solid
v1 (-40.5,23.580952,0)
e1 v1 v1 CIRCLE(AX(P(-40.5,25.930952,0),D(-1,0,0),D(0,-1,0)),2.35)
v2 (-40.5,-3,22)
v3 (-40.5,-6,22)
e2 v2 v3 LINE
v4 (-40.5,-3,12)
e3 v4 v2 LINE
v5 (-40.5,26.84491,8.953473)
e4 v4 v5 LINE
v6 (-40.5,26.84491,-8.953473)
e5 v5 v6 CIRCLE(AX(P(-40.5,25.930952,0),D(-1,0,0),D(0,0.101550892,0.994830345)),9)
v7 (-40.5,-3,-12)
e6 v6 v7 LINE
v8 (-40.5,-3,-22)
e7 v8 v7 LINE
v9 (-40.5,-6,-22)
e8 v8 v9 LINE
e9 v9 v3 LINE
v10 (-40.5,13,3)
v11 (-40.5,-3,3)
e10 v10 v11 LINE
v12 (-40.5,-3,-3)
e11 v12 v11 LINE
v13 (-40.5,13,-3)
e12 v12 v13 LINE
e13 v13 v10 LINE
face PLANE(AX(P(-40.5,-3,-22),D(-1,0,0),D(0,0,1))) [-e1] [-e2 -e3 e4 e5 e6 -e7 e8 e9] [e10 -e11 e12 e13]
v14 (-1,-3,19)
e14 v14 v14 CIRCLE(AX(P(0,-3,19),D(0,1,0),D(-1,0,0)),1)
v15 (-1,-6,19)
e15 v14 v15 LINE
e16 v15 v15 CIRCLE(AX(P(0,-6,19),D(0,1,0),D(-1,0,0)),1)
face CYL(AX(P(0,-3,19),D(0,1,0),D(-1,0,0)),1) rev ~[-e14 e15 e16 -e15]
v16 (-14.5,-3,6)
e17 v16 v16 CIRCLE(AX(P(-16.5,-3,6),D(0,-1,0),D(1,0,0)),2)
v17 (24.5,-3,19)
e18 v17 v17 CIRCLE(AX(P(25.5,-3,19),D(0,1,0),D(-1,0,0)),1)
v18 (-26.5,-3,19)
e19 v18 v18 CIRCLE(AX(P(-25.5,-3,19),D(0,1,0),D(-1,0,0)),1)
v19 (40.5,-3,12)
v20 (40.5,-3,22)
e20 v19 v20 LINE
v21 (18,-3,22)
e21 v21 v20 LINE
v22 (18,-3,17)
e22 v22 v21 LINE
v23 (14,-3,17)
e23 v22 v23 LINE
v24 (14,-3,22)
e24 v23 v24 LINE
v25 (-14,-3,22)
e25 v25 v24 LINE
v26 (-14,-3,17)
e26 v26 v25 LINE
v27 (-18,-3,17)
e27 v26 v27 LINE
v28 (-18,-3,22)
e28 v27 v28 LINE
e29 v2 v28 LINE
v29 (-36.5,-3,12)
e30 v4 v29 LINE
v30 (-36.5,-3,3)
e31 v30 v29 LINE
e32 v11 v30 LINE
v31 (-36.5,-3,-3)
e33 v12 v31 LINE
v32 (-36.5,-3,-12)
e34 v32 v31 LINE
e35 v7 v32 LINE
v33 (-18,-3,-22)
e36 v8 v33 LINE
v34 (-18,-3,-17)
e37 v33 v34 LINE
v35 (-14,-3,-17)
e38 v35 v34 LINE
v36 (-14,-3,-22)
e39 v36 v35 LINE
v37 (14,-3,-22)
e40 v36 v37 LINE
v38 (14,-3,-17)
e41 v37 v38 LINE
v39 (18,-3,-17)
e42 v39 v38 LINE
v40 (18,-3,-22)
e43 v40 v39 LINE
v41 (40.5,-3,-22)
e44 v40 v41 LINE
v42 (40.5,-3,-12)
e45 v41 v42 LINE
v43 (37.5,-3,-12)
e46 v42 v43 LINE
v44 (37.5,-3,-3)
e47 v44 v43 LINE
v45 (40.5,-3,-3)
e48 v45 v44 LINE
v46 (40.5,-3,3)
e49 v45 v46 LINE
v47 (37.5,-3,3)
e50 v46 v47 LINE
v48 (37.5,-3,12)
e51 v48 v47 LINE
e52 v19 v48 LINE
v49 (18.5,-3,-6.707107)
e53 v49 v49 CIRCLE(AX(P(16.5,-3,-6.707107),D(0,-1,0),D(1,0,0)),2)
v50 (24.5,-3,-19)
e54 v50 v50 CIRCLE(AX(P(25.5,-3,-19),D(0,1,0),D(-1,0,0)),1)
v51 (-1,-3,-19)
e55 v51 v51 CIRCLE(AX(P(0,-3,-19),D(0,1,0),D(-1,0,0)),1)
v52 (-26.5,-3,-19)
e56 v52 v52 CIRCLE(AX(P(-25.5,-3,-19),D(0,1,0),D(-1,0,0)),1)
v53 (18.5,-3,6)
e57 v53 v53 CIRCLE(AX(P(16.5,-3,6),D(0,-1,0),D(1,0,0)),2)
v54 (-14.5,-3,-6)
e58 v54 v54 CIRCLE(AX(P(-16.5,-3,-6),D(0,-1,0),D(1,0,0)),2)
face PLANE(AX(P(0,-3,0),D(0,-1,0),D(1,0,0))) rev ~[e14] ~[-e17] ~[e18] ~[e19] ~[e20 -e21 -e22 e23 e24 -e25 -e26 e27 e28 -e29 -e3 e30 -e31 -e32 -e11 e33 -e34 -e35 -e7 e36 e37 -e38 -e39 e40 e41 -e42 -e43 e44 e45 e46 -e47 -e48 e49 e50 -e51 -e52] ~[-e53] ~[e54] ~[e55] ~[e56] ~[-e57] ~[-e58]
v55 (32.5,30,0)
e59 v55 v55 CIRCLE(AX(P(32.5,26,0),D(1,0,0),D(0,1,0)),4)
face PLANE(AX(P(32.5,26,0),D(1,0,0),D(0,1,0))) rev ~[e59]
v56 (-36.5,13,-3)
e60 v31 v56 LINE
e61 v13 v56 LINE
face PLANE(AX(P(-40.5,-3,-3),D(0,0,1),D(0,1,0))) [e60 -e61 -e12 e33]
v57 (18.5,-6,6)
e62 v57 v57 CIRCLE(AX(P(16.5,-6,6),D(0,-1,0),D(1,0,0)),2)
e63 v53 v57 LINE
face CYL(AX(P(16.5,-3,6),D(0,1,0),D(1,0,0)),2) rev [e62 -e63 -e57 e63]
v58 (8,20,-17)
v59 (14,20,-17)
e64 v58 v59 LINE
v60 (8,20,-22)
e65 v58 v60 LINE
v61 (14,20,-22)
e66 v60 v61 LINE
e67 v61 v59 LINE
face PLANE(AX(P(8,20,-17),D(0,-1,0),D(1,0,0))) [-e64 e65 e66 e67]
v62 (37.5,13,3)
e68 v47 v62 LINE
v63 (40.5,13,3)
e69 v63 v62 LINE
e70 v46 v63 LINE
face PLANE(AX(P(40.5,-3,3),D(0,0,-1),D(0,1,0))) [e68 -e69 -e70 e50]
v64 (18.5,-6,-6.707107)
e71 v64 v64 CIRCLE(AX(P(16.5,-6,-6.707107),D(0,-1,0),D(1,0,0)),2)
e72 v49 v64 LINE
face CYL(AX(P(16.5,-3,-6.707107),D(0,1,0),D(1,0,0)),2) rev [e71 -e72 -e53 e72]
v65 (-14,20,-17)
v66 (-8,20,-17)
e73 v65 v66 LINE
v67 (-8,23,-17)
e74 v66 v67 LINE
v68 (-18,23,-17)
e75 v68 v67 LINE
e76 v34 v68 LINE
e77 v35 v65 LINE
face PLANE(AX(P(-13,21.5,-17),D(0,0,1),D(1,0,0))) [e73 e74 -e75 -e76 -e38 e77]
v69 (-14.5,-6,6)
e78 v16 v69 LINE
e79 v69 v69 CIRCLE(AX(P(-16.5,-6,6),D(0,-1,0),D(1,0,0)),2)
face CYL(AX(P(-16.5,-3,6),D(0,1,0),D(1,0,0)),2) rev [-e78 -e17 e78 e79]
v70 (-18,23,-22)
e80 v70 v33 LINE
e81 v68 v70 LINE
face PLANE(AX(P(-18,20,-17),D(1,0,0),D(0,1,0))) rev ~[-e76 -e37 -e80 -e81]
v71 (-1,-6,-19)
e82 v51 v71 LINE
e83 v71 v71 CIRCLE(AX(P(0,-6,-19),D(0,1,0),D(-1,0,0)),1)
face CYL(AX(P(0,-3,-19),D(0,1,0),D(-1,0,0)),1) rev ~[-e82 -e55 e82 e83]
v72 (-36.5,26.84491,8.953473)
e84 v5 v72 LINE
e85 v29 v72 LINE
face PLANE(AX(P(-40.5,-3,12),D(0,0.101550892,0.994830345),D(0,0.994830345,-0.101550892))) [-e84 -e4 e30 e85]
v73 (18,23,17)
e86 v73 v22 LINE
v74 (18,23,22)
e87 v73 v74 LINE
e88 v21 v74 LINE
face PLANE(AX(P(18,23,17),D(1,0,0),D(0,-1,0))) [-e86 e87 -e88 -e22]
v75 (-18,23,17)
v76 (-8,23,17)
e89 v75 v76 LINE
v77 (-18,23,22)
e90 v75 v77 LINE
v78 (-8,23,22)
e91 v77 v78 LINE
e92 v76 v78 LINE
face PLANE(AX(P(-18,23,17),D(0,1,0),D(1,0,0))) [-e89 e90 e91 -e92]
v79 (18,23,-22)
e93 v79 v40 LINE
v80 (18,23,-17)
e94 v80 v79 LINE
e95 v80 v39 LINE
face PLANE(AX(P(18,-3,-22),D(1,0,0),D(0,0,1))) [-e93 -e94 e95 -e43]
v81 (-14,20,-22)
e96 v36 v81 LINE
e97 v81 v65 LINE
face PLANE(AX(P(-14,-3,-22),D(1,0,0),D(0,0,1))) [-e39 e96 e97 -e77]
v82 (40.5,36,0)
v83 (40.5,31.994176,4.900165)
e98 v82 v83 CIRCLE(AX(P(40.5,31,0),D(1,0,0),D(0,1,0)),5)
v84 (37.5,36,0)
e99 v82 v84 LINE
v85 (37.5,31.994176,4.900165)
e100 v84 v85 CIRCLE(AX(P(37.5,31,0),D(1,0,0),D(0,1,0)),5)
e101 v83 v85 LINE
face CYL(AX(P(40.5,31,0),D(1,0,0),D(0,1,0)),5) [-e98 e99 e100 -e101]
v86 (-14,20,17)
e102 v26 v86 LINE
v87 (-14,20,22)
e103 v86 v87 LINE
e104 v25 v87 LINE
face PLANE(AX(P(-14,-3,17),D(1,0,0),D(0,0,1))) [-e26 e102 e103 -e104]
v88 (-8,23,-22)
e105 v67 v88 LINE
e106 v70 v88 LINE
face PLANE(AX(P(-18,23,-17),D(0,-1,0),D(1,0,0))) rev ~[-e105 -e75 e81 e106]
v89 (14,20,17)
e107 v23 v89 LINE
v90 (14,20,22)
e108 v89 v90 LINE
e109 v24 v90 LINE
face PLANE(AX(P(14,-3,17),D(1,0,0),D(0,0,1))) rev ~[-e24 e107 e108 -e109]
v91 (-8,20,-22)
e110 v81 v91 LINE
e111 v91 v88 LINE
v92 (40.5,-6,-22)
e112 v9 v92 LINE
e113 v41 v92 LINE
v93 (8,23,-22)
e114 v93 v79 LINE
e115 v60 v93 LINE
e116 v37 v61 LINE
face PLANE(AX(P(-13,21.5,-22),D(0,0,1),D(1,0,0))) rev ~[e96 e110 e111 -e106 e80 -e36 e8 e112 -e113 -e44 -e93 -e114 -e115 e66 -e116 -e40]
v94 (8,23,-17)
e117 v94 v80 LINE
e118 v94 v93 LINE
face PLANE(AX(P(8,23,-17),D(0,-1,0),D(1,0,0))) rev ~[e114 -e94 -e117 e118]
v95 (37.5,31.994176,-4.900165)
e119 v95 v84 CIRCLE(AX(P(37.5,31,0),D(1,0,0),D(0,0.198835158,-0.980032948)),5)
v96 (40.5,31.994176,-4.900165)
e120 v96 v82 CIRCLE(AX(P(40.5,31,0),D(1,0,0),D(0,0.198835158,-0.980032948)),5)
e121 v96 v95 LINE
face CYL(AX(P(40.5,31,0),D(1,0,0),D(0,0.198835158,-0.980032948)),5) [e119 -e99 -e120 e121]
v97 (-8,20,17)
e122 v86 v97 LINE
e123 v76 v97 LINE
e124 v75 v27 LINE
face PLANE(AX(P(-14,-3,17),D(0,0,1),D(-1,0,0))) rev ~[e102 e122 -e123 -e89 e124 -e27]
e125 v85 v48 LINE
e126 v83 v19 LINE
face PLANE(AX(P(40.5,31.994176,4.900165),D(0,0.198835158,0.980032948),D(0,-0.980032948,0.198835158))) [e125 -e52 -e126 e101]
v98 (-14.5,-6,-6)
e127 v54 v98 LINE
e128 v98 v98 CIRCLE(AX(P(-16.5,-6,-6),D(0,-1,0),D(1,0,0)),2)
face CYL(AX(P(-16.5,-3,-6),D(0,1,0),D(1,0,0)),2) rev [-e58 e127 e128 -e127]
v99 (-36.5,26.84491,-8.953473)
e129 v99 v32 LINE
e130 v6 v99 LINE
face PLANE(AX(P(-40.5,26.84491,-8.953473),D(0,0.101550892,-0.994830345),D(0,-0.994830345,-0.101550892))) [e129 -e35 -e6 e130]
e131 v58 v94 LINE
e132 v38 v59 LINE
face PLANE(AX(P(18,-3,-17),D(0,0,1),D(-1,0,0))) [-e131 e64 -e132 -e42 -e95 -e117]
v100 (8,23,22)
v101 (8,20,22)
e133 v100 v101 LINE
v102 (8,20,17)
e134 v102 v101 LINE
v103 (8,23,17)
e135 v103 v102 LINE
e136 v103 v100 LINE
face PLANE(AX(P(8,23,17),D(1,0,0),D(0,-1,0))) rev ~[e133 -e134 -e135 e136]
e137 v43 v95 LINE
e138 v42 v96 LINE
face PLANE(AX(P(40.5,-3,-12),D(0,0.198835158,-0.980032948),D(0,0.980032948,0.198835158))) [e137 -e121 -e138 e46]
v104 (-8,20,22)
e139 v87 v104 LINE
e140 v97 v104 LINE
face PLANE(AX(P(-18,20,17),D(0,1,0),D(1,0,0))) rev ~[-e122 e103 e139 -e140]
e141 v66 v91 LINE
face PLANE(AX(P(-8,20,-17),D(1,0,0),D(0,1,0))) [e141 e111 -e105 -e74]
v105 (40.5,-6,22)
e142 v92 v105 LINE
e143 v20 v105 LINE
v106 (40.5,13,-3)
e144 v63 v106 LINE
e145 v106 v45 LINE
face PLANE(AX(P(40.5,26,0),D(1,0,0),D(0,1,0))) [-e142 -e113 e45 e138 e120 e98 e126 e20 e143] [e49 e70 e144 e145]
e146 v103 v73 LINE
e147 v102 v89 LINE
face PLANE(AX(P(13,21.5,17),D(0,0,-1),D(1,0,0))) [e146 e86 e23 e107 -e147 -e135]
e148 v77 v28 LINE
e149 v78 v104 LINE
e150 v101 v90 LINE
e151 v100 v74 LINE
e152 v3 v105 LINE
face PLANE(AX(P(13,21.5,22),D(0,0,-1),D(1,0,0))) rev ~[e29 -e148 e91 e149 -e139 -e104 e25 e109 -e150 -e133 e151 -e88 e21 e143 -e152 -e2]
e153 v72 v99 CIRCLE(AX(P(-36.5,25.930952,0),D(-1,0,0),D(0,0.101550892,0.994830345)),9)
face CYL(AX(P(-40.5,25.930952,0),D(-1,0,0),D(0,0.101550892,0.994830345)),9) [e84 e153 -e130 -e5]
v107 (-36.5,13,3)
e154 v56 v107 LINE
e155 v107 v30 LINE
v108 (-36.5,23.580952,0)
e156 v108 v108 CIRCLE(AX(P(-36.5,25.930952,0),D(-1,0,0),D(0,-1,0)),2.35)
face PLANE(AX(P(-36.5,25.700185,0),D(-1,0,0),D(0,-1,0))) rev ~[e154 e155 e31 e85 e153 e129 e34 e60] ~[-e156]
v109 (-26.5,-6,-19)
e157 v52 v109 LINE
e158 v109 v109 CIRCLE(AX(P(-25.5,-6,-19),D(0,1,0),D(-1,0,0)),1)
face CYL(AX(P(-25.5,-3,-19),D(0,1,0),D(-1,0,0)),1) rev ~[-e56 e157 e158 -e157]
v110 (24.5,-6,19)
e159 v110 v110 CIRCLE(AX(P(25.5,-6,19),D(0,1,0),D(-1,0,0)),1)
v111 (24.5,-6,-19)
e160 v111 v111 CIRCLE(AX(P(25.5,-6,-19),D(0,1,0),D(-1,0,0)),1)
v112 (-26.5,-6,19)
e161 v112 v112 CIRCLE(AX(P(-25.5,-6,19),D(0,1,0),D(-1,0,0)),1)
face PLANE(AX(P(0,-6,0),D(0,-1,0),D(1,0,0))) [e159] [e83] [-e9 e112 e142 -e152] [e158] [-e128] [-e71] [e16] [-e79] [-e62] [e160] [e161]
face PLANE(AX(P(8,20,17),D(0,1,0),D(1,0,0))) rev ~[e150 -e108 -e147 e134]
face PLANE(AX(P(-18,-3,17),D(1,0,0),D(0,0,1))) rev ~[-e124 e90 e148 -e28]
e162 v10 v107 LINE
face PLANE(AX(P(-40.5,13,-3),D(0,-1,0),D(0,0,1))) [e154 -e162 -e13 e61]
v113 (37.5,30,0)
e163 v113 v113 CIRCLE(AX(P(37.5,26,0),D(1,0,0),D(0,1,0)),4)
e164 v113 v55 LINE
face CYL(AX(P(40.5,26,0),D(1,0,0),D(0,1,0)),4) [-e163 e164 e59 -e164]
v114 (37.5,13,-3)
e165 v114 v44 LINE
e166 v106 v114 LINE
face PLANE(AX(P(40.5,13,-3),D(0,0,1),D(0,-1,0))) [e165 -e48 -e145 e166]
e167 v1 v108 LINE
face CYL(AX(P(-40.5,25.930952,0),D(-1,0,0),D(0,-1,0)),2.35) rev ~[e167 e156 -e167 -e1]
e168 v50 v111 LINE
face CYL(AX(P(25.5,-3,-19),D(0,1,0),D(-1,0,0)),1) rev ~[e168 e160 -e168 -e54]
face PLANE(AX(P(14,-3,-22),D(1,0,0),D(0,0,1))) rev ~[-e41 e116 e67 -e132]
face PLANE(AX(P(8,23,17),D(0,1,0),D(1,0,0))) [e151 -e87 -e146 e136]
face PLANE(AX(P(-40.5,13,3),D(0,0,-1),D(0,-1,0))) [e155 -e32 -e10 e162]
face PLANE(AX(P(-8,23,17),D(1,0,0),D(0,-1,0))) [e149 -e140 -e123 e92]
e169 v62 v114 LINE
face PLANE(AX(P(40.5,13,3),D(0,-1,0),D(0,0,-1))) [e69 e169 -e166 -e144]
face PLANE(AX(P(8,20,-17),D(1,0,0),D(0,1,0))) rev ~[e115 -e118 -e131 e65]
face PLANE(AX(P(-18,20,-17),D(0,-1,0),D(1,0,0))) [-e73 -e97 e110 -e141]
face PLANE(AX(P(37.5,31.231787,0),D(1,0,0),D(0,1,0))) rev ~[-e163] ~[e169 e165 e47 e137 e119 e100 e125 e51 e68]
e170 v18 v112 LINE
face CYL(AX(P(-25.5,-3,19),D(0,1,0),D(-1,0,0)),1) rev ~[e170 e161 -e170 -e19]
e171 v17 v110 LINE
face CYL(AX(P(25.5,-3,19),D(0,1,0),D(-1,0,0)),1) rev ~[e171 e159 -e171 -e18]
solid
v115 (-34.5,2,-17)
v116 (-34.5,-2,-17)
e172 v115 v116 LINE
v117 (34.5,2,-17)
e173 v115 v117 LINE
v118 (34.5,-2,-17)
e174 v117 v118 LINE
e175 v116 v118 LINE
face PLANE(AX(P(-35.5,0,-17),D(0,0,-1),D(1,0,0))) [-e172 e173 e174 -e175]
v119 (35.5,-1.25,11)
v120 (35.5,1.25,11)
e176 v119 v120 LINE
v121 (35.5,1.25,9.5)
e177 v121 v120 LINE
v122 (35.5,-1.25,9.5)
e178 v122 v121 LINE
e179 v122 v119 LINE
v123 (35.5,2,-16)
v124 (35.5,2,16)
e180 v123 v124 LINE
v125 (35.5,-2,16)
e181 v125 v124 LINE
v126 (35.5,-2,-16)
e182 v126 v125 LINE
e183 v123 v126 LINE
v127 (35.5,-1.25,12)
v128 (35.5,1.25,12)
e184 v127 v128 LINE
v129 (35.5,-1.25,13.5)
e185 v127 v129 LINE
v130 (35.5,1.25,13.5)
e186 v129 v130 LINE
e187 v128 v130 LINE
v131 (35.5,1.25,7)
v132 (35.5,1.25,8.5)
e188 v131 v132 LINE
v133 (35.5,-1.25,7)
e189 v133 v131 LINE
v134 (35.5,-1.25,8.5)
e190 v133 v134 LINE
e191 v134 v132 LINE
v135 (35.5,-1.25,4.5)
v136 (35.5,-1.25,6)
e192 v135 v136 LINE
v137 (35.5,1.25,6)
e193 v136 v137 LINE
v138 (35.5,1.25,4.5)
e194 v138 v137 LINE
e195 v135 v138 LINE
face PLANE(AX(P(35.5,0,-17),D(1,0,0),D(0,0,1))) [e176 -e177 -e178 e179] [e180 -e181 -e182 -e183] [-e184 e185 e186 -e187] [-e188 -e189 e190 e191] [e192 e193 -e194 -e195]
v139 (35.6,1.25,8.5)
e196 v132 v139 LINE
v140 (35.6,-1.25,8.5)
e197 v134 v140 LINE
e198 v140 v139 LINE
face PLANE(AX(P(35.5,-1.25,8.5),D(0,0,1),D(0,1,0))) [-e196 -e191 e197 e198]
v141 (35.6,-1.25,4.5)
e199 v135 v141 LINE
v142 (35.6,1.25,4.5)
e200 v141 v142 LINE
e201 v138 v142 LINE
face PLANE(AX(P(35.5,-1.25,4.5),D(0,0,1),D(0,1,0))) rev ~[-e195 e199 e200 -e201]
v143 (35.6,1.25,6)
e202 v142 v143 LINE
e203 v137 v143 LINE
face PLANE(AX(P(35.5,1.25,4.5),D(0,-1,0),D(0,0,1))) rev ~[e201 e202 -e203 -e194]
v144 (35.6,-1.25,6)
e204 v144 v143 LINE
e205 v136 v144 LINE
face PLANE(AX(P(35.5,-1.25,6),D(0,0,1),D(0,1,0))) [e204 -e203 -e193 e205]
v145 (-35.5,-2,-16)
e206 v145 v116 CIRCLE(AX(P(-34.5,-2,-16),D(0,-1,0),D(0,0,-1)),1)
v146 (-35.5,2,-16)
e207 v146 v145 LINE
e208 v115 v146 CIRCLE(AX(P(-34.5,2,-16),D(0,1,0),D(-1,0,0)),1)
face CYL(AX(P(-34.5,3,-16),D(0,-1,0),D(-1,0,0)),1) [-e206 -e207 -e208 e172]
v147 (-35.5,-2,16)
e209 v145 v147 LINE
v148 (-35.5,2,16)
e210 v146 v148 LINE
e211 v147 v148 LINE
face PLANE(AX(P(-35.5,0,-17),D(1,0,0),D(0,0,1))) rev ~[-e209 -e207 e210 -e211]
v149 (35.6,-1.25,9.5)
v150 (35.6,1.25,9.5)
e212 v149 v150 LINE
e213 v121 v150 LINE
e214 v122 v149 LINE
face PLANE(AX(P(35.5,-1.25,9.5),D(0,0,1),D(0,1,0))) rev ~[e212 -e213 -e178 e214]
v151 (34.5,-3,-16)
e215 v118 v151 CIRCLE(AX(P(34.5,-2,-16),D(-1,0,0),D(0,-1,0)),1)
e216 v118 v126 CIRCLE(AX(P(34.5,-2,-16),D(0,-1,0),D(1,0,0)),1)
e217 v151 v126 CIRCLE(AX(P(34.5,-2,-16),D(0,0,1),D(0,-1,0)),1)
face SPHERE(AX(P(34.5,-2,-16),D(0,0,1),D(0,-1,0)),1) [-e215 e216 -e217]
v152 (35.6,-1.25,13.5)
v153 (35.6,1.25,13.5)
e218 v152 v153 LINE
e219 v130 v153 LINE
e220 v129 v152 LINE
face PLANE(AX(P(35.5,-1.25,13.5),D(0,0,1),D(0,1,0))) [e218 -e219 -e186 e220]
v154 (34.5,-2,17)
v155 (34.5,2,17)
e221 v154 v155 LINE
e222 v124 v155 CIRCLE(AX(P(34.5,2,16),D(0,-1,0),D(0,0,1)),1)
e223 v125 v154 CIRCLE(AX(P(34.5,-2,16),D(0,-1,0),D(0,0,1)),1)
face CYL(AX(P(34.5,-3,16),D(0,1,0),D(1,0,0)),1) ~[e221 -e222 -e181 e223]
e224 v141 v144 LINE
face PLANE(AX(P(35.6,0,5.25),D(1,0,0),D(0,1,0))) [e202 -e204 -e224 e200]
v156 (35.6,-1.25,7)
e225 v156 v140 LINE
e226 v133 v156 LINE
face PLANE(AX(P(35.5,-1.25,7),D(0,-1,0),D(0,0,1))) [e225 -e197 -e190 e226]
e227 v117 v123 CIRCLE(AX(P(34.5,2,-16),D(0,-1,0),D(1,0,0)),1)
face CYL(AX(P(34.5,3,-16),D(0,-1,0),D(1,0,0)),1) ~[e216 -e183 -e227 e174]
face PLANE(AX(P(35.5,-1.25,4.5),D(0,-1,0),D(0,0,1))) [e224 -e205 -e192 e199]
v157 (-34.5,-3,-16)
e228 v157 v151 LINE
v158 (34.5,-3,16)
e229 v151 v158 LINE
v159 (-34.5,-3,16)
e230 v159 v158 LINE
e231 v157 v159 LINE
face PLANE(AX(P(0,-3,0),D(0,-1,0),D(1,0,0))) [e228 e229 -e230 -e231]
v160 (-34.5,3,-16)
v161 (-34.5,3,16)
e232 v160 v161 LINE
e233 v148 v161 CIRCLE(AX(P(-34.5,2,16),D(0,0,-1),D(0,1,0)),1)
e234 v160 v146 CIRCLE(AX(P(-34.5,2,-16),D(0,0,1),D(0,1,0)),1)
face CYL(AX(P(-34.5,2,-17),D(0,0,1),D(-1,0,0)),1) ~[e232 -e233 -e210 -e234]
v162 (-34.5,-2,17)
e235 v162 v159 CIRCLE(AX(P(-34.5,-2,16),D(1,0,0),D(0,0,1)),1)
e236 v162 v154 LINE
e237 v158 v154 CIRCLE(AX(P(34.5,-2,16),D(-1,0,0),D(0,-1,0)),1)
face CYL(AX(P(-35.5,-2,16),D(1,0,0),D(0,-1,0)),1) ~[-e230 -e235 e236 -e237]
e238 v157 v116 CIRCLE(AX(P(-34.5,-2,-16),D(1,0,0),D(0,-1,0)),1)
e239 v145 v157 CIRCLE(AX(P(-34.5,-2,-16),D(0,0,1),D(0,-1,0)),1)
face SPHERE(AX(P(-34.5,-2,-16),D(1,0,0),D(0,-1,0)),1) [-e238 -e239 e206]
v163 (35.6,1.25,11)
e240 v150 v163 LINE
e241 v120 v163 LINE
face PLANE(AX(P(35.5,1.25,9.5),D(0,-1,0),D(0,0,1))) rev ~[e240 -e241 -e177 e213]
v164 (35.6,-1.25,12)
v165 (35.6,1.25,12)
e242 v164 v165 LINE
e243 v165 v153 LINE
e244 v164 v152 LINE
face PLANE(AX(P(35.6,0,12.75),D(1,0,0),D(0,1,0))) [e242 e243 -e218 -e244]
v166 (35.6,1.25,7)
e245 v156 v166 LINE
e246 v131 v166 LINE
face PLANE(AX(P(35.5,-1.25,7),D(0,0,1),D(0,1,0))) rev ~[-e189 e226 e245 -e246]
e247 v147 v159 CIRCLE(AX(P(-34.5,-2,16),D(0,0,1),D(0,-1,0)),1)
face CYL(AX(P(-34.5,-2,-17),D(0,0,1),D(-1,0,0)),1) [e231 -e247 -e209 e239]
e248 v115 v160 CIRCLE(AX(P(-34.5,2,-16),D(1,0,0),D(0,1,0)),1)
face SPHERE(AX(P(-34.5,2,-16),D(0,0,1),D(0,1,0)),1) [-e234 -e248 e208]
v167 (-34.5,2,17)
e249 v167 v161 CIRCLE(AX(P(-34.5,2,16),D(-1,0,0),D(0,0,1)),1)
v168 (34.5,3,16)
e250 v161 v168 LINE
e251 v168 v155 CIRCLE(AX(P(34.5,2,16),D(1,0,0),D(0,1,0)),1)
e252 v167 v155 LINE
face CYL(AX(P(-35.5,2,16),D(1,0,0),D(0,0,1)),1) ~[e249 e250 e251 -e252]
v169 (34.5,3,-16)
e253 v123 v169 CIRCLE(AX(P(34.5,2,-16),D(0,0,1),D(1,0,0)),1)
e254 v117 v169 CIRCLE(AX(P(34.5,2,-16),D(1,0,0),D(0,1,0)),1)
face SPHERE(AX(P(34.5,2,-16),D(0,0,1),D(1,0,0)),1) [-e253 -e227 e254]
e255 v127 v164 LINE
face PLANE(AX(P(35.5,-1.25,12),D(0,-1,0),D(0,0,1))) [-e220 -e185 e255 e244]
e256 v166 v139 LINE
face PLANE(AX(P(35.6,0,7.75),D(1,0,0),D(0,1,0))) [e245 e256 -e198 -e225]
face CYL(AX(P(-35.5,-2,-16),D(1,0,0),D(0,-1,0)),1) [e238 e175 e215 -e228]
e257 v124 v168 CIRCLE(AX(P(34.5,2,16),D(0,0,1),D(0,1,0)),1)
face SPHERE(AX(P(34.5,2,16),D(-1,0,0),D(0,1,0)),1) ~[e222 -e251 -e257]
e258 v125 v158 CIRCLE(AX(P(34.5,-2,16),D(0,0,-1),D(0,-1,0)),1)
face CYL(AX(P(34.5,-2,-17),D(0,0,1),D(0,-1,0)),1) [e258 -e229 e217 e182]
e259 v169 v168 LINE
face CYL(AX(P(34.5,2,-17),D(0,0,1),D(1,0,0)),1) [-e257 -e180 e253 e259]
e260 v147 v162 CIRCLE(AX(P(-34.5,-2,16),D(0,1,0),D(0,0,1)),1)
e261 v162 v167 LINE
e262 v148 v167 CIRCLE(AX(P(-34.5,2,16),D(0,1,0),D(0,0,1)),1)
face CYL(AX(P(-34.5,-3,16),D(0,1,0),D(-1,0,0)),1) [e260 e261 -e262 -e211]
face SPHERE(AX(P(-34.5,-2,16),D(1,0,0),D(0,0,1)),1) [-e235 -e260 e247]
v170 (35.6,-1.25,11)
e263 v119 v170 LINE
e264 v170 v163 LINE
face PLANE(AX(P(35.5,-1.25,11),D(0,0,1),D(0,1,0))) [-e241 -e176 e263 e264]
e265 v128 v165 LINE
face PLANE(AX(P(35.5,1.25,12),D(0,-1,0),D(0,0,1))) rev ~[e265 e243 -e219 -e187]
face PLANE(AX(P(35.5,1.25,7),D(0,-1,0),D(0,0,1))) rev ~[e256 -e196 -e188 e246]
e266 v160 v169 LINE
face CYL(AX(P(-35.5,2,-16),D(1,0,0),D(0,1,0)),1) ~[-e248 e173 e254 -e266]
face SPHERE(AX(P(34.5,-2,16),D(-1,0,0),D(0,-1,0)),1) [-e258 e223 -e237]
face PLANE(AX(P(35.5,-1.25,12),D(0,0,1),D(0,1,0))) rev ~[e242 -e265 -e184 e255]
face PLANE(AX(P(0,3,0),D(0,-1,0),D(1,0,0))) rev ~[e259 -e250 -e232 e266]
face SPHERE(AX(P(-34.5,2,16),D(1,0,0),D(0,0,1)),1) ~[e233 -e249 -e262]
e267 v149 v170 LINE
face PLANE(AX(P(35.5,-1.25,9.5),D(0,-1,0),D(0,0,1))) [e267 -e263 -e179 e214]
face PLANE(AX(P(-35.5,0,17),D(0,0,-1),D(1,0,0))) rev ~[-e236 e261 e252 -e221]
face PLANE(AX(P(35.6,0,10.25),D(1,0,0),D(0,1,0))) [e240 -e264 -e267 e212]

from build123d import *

# Parameters (mm, degrees)
F0_W      = 71
F0_H      = 34
F1_DEPTH  = 3
F2_R      = 1
F3_W      = 2.5
F3_H      = 1.5
F4_DEPTH  = 0.1
F5_W      = 80.9999997616
F5_H      = 43.9999997616
F5_R      = 2
F6_DEPTH  = 3
F7_R      = 2.35
F8_DEPTH  = 4
F10_DEPTH = 3
F11_R     = 4
F12_DEPTH = 8
F13_W     = 4
F13_H     = 5
F14_DEPTH = 23
F15_W     = 10
F15_H     = 3
F16_DEPTH = 5
F17_R     = 1
F18_DEPTH = 25
F19_W     = 10
F19_H     = 3
F20_DEPTH = 5


with BuildPart() as f1:
    # F0 (on Front) → F1 (new body, symmetric)
    with BuildSketch(Plane.XZ):
        Rectangle(F0_W, F0_H)
    extrude(amount=F1_DEPTH, both=True)

    # F2
    f2_edges = [f1.edges().sort_by_distance(p)[0] for p in [
        (0, -3, 17),
        (0, 3, 17),
        (35.5, -3, 0),
        (35.5, 3, 0),
        (0, -3, -17),
        (35.5, 0, -17),
        (-35.5, 0, 17),
        (-35.5, -3, 0),
        (-35.5, 3, 0),
        (0, 3, -17),
        (-35.5, 0, -17),
        (35.5, 0, 17),
    ]]
    fillet(f2_edges, radius=F2_R)

    # F3 (on face) → F4 (join)
    with BuildSketch(Plane.YZ.offset(35.5)):
        with Locations((0, 12.75)):
            Rectangle(F3_W, F3_H)
        with Locations((0, 10.25)):
            Rectangle(F3_W, F3_H)
        with Locations((0, 7.75)):
            Rectangle(F3_W, F3_H)
        with Locations((0, 5.25)):
            Rectangle(F3_W, F3_H)
    extrude(amount=F4_DEPTH)


with BuildPart() as f6:
    # F5 (on face) → F6 (new body)
    with BuildSketch(Plane.XZ.offset(3)):
        Rectangle(F5_W, F5_H)
        with Locations((-16.5, -6)):
            Circle(F5_R, mode=Mode.SUBTRACT)
        with Locations((16.5, -6.7071067812)):
            Circle(F5_R, mode=Mode.SUBTRACT)
        with Locations((-16.5, 6)):
            Circle(F5_R, mode=Mode.SUBTRACT)
        with Locations((16.5, 6)):
            Circle(F5_R, mode=Mode.SUBTRACT)
    extrude(amount=F6_DEPTH)

    # F7 (on face) → F8 (join)
    with BuildSketch(Plane(origin=(-40.4999998808, 0, 0), x_dir=(0, -1, 0), z_dir=(-1, 0, 0))):
        with BuildLine():
            ThreePointArc((-26.8449103639, -8.9534731092), (-19.8987728873, -6.6792822325), (-16.9309523324, 0))
            ThreePointArc((-16.9309523324, 0), (-19.8987728873, 6.6792822325), (-26.8449103639, 8.9534731092))
            ThreePointArc((-26.8449103639, 8.9534731092), (-34.9309523324, 0), (-26.8449103639, -8.9534731092))
        make_face()
        with Locations((-25.9309523324, 0)):
            Circle(F7_R, mode=Mode.SUBTRACT)
        with BuildLine():
            ThreePointArc((-26.8449103639, 8.9534731092), (-19.8987728873, 6.6792822325), (-16.9309523324, 0))
            ThreePointArc((-16.9309523324, 0), (-19.8987728873, -6.6792822325), (-26.8449103639, -8.9534731092))
            Line((-26.8449103639, -8.9534731092), (3, -11.9999998808))
            Line((3, -11.9999998808), (3, -3))
            Line((3, -3), (-13, -3))
            Line((-13, -3), (-13, 3))
            Line((-13, 3), (3, 3))
            Line((3, 3), (3, 11.9999998808))
            Line((3, 11.9999998808), (-26.8449103639, 8.9534731092))
        make_face()
    extrude(amount=-F8_DEPTH)

    # F9 (on face) → F10 (join)
    with BuildSketch(Plane.YZ.offset(40.4999998808)):
        with BuildLine():
            ThreePointArc((31.9941757912, -4.9001647417), (34.8711031345, -3.1645790434), (36, 0))
            ThreePointArc((36, 0), (34.8711031345, 3.1645790434), (31.9941757912, 4.9001647417))
            ThreePointArc((31.9941757912, 4.9001647417), (26, 0), (31.9941757912, -4.9001647417))
        make_face()
        with BuildLine():
            ThreePointArc((31.9941757912, -4.9001647417), (26, 0), (31.9941757912, 4.9001647417))
            Line((31.9941757912, 4.9001647417), (-3, 12))
            Line((-3, 12), (-3, 3))
            Line((-3, 3), (13, 3))
            Line((13, 3), (13, -3))
            Line((13, -3), (-3, -3))
            Line((-3, -3), (-3, -12))
            Line((-3, -12), (31.9941757912, -4.9001647417))
        make_face()
    extrude(amount=-F10_DEPTH)

    # F11 (on face) → F12 (join)
    with BuildSketch(Plane.YZ.offset(40.4999998808)):
        with Locations((26, 0)):
            Circle(F11_R)
    extrude(amount=-F12_DEPTH)

    # F13 (on face) → F14 (join)
    with BuildSketch(Plane(origin=(0, -3, 0), x_dir=(-1, 0, 0), z_dir=(0, 1, 0))):
        with Locations((16, 19.4999998808)):
            Rectangle(F13_W, F13_H)
        with Locations((-16, 19.4999998808)):
            Rectangle(F13_W, F13_H)
        with Locations((16, -19.4999998808)):
            Rectangle(F13_W, F13_H)
        with Locations((-16, -19.4999998808)):
            Rectangle(F13_W, F13_H)
    extrude(amount=F14_DEPTH)

    # F15 (on face) → F16 (join)
    with BuildSketch(Plane(origin=(0, 0, 16.9999998808), x_dir=(1, 0, 0), z_dir=(0, 0, -1))):
        with Locations((13, -21.5)):
            Rectangle(F15_W, F15_H)
        with Locations((-13, -21.5)):
            Rectangle(F15_W, F15_H)
    extrude(amount=-F16_DEPTH)

    # F17 (on face) → F18 (cut)
    with BuildSketch(Plane(origin=(0, -3, 0), x_dir=(-1, 0, 0), z_dir=(0, 1, 0))):
        with Locations((25.4999998808, 18.9999998808)):
            Circle(F17_R)
        with Locations((25.4999998808, -18.9999998808)):
            Circle(F17_R)
        with Locations((-25.4999998808, 18.9999998808)):
            Circle(F17_R)
        with Locations((-25.4999998808, -18.9999998808)):
            Circle(F17_R)
        with Locations((0, -18.9999998808)):
            Circle(F17_R)
        with Locations((0, 18.9999998808)):
            Circle(F17_R)
    extrude(amount=-F18_DEPTH, mode=Mode.SUBTRACT)

    # F19 (on face) → F20 (join)
    with BuildSketch(Plane.XY.offset(-16.9999998808)):
        with Locations((-13, 21.5)):
            Rectangle(F19_W, F19_H)
        with Locations((13, 21.5)):
            Rectangle(F19_W, F19_H)
    extrude(amount=-F20_DEPTH)


solid = Compound([f1.part, f6.part])
